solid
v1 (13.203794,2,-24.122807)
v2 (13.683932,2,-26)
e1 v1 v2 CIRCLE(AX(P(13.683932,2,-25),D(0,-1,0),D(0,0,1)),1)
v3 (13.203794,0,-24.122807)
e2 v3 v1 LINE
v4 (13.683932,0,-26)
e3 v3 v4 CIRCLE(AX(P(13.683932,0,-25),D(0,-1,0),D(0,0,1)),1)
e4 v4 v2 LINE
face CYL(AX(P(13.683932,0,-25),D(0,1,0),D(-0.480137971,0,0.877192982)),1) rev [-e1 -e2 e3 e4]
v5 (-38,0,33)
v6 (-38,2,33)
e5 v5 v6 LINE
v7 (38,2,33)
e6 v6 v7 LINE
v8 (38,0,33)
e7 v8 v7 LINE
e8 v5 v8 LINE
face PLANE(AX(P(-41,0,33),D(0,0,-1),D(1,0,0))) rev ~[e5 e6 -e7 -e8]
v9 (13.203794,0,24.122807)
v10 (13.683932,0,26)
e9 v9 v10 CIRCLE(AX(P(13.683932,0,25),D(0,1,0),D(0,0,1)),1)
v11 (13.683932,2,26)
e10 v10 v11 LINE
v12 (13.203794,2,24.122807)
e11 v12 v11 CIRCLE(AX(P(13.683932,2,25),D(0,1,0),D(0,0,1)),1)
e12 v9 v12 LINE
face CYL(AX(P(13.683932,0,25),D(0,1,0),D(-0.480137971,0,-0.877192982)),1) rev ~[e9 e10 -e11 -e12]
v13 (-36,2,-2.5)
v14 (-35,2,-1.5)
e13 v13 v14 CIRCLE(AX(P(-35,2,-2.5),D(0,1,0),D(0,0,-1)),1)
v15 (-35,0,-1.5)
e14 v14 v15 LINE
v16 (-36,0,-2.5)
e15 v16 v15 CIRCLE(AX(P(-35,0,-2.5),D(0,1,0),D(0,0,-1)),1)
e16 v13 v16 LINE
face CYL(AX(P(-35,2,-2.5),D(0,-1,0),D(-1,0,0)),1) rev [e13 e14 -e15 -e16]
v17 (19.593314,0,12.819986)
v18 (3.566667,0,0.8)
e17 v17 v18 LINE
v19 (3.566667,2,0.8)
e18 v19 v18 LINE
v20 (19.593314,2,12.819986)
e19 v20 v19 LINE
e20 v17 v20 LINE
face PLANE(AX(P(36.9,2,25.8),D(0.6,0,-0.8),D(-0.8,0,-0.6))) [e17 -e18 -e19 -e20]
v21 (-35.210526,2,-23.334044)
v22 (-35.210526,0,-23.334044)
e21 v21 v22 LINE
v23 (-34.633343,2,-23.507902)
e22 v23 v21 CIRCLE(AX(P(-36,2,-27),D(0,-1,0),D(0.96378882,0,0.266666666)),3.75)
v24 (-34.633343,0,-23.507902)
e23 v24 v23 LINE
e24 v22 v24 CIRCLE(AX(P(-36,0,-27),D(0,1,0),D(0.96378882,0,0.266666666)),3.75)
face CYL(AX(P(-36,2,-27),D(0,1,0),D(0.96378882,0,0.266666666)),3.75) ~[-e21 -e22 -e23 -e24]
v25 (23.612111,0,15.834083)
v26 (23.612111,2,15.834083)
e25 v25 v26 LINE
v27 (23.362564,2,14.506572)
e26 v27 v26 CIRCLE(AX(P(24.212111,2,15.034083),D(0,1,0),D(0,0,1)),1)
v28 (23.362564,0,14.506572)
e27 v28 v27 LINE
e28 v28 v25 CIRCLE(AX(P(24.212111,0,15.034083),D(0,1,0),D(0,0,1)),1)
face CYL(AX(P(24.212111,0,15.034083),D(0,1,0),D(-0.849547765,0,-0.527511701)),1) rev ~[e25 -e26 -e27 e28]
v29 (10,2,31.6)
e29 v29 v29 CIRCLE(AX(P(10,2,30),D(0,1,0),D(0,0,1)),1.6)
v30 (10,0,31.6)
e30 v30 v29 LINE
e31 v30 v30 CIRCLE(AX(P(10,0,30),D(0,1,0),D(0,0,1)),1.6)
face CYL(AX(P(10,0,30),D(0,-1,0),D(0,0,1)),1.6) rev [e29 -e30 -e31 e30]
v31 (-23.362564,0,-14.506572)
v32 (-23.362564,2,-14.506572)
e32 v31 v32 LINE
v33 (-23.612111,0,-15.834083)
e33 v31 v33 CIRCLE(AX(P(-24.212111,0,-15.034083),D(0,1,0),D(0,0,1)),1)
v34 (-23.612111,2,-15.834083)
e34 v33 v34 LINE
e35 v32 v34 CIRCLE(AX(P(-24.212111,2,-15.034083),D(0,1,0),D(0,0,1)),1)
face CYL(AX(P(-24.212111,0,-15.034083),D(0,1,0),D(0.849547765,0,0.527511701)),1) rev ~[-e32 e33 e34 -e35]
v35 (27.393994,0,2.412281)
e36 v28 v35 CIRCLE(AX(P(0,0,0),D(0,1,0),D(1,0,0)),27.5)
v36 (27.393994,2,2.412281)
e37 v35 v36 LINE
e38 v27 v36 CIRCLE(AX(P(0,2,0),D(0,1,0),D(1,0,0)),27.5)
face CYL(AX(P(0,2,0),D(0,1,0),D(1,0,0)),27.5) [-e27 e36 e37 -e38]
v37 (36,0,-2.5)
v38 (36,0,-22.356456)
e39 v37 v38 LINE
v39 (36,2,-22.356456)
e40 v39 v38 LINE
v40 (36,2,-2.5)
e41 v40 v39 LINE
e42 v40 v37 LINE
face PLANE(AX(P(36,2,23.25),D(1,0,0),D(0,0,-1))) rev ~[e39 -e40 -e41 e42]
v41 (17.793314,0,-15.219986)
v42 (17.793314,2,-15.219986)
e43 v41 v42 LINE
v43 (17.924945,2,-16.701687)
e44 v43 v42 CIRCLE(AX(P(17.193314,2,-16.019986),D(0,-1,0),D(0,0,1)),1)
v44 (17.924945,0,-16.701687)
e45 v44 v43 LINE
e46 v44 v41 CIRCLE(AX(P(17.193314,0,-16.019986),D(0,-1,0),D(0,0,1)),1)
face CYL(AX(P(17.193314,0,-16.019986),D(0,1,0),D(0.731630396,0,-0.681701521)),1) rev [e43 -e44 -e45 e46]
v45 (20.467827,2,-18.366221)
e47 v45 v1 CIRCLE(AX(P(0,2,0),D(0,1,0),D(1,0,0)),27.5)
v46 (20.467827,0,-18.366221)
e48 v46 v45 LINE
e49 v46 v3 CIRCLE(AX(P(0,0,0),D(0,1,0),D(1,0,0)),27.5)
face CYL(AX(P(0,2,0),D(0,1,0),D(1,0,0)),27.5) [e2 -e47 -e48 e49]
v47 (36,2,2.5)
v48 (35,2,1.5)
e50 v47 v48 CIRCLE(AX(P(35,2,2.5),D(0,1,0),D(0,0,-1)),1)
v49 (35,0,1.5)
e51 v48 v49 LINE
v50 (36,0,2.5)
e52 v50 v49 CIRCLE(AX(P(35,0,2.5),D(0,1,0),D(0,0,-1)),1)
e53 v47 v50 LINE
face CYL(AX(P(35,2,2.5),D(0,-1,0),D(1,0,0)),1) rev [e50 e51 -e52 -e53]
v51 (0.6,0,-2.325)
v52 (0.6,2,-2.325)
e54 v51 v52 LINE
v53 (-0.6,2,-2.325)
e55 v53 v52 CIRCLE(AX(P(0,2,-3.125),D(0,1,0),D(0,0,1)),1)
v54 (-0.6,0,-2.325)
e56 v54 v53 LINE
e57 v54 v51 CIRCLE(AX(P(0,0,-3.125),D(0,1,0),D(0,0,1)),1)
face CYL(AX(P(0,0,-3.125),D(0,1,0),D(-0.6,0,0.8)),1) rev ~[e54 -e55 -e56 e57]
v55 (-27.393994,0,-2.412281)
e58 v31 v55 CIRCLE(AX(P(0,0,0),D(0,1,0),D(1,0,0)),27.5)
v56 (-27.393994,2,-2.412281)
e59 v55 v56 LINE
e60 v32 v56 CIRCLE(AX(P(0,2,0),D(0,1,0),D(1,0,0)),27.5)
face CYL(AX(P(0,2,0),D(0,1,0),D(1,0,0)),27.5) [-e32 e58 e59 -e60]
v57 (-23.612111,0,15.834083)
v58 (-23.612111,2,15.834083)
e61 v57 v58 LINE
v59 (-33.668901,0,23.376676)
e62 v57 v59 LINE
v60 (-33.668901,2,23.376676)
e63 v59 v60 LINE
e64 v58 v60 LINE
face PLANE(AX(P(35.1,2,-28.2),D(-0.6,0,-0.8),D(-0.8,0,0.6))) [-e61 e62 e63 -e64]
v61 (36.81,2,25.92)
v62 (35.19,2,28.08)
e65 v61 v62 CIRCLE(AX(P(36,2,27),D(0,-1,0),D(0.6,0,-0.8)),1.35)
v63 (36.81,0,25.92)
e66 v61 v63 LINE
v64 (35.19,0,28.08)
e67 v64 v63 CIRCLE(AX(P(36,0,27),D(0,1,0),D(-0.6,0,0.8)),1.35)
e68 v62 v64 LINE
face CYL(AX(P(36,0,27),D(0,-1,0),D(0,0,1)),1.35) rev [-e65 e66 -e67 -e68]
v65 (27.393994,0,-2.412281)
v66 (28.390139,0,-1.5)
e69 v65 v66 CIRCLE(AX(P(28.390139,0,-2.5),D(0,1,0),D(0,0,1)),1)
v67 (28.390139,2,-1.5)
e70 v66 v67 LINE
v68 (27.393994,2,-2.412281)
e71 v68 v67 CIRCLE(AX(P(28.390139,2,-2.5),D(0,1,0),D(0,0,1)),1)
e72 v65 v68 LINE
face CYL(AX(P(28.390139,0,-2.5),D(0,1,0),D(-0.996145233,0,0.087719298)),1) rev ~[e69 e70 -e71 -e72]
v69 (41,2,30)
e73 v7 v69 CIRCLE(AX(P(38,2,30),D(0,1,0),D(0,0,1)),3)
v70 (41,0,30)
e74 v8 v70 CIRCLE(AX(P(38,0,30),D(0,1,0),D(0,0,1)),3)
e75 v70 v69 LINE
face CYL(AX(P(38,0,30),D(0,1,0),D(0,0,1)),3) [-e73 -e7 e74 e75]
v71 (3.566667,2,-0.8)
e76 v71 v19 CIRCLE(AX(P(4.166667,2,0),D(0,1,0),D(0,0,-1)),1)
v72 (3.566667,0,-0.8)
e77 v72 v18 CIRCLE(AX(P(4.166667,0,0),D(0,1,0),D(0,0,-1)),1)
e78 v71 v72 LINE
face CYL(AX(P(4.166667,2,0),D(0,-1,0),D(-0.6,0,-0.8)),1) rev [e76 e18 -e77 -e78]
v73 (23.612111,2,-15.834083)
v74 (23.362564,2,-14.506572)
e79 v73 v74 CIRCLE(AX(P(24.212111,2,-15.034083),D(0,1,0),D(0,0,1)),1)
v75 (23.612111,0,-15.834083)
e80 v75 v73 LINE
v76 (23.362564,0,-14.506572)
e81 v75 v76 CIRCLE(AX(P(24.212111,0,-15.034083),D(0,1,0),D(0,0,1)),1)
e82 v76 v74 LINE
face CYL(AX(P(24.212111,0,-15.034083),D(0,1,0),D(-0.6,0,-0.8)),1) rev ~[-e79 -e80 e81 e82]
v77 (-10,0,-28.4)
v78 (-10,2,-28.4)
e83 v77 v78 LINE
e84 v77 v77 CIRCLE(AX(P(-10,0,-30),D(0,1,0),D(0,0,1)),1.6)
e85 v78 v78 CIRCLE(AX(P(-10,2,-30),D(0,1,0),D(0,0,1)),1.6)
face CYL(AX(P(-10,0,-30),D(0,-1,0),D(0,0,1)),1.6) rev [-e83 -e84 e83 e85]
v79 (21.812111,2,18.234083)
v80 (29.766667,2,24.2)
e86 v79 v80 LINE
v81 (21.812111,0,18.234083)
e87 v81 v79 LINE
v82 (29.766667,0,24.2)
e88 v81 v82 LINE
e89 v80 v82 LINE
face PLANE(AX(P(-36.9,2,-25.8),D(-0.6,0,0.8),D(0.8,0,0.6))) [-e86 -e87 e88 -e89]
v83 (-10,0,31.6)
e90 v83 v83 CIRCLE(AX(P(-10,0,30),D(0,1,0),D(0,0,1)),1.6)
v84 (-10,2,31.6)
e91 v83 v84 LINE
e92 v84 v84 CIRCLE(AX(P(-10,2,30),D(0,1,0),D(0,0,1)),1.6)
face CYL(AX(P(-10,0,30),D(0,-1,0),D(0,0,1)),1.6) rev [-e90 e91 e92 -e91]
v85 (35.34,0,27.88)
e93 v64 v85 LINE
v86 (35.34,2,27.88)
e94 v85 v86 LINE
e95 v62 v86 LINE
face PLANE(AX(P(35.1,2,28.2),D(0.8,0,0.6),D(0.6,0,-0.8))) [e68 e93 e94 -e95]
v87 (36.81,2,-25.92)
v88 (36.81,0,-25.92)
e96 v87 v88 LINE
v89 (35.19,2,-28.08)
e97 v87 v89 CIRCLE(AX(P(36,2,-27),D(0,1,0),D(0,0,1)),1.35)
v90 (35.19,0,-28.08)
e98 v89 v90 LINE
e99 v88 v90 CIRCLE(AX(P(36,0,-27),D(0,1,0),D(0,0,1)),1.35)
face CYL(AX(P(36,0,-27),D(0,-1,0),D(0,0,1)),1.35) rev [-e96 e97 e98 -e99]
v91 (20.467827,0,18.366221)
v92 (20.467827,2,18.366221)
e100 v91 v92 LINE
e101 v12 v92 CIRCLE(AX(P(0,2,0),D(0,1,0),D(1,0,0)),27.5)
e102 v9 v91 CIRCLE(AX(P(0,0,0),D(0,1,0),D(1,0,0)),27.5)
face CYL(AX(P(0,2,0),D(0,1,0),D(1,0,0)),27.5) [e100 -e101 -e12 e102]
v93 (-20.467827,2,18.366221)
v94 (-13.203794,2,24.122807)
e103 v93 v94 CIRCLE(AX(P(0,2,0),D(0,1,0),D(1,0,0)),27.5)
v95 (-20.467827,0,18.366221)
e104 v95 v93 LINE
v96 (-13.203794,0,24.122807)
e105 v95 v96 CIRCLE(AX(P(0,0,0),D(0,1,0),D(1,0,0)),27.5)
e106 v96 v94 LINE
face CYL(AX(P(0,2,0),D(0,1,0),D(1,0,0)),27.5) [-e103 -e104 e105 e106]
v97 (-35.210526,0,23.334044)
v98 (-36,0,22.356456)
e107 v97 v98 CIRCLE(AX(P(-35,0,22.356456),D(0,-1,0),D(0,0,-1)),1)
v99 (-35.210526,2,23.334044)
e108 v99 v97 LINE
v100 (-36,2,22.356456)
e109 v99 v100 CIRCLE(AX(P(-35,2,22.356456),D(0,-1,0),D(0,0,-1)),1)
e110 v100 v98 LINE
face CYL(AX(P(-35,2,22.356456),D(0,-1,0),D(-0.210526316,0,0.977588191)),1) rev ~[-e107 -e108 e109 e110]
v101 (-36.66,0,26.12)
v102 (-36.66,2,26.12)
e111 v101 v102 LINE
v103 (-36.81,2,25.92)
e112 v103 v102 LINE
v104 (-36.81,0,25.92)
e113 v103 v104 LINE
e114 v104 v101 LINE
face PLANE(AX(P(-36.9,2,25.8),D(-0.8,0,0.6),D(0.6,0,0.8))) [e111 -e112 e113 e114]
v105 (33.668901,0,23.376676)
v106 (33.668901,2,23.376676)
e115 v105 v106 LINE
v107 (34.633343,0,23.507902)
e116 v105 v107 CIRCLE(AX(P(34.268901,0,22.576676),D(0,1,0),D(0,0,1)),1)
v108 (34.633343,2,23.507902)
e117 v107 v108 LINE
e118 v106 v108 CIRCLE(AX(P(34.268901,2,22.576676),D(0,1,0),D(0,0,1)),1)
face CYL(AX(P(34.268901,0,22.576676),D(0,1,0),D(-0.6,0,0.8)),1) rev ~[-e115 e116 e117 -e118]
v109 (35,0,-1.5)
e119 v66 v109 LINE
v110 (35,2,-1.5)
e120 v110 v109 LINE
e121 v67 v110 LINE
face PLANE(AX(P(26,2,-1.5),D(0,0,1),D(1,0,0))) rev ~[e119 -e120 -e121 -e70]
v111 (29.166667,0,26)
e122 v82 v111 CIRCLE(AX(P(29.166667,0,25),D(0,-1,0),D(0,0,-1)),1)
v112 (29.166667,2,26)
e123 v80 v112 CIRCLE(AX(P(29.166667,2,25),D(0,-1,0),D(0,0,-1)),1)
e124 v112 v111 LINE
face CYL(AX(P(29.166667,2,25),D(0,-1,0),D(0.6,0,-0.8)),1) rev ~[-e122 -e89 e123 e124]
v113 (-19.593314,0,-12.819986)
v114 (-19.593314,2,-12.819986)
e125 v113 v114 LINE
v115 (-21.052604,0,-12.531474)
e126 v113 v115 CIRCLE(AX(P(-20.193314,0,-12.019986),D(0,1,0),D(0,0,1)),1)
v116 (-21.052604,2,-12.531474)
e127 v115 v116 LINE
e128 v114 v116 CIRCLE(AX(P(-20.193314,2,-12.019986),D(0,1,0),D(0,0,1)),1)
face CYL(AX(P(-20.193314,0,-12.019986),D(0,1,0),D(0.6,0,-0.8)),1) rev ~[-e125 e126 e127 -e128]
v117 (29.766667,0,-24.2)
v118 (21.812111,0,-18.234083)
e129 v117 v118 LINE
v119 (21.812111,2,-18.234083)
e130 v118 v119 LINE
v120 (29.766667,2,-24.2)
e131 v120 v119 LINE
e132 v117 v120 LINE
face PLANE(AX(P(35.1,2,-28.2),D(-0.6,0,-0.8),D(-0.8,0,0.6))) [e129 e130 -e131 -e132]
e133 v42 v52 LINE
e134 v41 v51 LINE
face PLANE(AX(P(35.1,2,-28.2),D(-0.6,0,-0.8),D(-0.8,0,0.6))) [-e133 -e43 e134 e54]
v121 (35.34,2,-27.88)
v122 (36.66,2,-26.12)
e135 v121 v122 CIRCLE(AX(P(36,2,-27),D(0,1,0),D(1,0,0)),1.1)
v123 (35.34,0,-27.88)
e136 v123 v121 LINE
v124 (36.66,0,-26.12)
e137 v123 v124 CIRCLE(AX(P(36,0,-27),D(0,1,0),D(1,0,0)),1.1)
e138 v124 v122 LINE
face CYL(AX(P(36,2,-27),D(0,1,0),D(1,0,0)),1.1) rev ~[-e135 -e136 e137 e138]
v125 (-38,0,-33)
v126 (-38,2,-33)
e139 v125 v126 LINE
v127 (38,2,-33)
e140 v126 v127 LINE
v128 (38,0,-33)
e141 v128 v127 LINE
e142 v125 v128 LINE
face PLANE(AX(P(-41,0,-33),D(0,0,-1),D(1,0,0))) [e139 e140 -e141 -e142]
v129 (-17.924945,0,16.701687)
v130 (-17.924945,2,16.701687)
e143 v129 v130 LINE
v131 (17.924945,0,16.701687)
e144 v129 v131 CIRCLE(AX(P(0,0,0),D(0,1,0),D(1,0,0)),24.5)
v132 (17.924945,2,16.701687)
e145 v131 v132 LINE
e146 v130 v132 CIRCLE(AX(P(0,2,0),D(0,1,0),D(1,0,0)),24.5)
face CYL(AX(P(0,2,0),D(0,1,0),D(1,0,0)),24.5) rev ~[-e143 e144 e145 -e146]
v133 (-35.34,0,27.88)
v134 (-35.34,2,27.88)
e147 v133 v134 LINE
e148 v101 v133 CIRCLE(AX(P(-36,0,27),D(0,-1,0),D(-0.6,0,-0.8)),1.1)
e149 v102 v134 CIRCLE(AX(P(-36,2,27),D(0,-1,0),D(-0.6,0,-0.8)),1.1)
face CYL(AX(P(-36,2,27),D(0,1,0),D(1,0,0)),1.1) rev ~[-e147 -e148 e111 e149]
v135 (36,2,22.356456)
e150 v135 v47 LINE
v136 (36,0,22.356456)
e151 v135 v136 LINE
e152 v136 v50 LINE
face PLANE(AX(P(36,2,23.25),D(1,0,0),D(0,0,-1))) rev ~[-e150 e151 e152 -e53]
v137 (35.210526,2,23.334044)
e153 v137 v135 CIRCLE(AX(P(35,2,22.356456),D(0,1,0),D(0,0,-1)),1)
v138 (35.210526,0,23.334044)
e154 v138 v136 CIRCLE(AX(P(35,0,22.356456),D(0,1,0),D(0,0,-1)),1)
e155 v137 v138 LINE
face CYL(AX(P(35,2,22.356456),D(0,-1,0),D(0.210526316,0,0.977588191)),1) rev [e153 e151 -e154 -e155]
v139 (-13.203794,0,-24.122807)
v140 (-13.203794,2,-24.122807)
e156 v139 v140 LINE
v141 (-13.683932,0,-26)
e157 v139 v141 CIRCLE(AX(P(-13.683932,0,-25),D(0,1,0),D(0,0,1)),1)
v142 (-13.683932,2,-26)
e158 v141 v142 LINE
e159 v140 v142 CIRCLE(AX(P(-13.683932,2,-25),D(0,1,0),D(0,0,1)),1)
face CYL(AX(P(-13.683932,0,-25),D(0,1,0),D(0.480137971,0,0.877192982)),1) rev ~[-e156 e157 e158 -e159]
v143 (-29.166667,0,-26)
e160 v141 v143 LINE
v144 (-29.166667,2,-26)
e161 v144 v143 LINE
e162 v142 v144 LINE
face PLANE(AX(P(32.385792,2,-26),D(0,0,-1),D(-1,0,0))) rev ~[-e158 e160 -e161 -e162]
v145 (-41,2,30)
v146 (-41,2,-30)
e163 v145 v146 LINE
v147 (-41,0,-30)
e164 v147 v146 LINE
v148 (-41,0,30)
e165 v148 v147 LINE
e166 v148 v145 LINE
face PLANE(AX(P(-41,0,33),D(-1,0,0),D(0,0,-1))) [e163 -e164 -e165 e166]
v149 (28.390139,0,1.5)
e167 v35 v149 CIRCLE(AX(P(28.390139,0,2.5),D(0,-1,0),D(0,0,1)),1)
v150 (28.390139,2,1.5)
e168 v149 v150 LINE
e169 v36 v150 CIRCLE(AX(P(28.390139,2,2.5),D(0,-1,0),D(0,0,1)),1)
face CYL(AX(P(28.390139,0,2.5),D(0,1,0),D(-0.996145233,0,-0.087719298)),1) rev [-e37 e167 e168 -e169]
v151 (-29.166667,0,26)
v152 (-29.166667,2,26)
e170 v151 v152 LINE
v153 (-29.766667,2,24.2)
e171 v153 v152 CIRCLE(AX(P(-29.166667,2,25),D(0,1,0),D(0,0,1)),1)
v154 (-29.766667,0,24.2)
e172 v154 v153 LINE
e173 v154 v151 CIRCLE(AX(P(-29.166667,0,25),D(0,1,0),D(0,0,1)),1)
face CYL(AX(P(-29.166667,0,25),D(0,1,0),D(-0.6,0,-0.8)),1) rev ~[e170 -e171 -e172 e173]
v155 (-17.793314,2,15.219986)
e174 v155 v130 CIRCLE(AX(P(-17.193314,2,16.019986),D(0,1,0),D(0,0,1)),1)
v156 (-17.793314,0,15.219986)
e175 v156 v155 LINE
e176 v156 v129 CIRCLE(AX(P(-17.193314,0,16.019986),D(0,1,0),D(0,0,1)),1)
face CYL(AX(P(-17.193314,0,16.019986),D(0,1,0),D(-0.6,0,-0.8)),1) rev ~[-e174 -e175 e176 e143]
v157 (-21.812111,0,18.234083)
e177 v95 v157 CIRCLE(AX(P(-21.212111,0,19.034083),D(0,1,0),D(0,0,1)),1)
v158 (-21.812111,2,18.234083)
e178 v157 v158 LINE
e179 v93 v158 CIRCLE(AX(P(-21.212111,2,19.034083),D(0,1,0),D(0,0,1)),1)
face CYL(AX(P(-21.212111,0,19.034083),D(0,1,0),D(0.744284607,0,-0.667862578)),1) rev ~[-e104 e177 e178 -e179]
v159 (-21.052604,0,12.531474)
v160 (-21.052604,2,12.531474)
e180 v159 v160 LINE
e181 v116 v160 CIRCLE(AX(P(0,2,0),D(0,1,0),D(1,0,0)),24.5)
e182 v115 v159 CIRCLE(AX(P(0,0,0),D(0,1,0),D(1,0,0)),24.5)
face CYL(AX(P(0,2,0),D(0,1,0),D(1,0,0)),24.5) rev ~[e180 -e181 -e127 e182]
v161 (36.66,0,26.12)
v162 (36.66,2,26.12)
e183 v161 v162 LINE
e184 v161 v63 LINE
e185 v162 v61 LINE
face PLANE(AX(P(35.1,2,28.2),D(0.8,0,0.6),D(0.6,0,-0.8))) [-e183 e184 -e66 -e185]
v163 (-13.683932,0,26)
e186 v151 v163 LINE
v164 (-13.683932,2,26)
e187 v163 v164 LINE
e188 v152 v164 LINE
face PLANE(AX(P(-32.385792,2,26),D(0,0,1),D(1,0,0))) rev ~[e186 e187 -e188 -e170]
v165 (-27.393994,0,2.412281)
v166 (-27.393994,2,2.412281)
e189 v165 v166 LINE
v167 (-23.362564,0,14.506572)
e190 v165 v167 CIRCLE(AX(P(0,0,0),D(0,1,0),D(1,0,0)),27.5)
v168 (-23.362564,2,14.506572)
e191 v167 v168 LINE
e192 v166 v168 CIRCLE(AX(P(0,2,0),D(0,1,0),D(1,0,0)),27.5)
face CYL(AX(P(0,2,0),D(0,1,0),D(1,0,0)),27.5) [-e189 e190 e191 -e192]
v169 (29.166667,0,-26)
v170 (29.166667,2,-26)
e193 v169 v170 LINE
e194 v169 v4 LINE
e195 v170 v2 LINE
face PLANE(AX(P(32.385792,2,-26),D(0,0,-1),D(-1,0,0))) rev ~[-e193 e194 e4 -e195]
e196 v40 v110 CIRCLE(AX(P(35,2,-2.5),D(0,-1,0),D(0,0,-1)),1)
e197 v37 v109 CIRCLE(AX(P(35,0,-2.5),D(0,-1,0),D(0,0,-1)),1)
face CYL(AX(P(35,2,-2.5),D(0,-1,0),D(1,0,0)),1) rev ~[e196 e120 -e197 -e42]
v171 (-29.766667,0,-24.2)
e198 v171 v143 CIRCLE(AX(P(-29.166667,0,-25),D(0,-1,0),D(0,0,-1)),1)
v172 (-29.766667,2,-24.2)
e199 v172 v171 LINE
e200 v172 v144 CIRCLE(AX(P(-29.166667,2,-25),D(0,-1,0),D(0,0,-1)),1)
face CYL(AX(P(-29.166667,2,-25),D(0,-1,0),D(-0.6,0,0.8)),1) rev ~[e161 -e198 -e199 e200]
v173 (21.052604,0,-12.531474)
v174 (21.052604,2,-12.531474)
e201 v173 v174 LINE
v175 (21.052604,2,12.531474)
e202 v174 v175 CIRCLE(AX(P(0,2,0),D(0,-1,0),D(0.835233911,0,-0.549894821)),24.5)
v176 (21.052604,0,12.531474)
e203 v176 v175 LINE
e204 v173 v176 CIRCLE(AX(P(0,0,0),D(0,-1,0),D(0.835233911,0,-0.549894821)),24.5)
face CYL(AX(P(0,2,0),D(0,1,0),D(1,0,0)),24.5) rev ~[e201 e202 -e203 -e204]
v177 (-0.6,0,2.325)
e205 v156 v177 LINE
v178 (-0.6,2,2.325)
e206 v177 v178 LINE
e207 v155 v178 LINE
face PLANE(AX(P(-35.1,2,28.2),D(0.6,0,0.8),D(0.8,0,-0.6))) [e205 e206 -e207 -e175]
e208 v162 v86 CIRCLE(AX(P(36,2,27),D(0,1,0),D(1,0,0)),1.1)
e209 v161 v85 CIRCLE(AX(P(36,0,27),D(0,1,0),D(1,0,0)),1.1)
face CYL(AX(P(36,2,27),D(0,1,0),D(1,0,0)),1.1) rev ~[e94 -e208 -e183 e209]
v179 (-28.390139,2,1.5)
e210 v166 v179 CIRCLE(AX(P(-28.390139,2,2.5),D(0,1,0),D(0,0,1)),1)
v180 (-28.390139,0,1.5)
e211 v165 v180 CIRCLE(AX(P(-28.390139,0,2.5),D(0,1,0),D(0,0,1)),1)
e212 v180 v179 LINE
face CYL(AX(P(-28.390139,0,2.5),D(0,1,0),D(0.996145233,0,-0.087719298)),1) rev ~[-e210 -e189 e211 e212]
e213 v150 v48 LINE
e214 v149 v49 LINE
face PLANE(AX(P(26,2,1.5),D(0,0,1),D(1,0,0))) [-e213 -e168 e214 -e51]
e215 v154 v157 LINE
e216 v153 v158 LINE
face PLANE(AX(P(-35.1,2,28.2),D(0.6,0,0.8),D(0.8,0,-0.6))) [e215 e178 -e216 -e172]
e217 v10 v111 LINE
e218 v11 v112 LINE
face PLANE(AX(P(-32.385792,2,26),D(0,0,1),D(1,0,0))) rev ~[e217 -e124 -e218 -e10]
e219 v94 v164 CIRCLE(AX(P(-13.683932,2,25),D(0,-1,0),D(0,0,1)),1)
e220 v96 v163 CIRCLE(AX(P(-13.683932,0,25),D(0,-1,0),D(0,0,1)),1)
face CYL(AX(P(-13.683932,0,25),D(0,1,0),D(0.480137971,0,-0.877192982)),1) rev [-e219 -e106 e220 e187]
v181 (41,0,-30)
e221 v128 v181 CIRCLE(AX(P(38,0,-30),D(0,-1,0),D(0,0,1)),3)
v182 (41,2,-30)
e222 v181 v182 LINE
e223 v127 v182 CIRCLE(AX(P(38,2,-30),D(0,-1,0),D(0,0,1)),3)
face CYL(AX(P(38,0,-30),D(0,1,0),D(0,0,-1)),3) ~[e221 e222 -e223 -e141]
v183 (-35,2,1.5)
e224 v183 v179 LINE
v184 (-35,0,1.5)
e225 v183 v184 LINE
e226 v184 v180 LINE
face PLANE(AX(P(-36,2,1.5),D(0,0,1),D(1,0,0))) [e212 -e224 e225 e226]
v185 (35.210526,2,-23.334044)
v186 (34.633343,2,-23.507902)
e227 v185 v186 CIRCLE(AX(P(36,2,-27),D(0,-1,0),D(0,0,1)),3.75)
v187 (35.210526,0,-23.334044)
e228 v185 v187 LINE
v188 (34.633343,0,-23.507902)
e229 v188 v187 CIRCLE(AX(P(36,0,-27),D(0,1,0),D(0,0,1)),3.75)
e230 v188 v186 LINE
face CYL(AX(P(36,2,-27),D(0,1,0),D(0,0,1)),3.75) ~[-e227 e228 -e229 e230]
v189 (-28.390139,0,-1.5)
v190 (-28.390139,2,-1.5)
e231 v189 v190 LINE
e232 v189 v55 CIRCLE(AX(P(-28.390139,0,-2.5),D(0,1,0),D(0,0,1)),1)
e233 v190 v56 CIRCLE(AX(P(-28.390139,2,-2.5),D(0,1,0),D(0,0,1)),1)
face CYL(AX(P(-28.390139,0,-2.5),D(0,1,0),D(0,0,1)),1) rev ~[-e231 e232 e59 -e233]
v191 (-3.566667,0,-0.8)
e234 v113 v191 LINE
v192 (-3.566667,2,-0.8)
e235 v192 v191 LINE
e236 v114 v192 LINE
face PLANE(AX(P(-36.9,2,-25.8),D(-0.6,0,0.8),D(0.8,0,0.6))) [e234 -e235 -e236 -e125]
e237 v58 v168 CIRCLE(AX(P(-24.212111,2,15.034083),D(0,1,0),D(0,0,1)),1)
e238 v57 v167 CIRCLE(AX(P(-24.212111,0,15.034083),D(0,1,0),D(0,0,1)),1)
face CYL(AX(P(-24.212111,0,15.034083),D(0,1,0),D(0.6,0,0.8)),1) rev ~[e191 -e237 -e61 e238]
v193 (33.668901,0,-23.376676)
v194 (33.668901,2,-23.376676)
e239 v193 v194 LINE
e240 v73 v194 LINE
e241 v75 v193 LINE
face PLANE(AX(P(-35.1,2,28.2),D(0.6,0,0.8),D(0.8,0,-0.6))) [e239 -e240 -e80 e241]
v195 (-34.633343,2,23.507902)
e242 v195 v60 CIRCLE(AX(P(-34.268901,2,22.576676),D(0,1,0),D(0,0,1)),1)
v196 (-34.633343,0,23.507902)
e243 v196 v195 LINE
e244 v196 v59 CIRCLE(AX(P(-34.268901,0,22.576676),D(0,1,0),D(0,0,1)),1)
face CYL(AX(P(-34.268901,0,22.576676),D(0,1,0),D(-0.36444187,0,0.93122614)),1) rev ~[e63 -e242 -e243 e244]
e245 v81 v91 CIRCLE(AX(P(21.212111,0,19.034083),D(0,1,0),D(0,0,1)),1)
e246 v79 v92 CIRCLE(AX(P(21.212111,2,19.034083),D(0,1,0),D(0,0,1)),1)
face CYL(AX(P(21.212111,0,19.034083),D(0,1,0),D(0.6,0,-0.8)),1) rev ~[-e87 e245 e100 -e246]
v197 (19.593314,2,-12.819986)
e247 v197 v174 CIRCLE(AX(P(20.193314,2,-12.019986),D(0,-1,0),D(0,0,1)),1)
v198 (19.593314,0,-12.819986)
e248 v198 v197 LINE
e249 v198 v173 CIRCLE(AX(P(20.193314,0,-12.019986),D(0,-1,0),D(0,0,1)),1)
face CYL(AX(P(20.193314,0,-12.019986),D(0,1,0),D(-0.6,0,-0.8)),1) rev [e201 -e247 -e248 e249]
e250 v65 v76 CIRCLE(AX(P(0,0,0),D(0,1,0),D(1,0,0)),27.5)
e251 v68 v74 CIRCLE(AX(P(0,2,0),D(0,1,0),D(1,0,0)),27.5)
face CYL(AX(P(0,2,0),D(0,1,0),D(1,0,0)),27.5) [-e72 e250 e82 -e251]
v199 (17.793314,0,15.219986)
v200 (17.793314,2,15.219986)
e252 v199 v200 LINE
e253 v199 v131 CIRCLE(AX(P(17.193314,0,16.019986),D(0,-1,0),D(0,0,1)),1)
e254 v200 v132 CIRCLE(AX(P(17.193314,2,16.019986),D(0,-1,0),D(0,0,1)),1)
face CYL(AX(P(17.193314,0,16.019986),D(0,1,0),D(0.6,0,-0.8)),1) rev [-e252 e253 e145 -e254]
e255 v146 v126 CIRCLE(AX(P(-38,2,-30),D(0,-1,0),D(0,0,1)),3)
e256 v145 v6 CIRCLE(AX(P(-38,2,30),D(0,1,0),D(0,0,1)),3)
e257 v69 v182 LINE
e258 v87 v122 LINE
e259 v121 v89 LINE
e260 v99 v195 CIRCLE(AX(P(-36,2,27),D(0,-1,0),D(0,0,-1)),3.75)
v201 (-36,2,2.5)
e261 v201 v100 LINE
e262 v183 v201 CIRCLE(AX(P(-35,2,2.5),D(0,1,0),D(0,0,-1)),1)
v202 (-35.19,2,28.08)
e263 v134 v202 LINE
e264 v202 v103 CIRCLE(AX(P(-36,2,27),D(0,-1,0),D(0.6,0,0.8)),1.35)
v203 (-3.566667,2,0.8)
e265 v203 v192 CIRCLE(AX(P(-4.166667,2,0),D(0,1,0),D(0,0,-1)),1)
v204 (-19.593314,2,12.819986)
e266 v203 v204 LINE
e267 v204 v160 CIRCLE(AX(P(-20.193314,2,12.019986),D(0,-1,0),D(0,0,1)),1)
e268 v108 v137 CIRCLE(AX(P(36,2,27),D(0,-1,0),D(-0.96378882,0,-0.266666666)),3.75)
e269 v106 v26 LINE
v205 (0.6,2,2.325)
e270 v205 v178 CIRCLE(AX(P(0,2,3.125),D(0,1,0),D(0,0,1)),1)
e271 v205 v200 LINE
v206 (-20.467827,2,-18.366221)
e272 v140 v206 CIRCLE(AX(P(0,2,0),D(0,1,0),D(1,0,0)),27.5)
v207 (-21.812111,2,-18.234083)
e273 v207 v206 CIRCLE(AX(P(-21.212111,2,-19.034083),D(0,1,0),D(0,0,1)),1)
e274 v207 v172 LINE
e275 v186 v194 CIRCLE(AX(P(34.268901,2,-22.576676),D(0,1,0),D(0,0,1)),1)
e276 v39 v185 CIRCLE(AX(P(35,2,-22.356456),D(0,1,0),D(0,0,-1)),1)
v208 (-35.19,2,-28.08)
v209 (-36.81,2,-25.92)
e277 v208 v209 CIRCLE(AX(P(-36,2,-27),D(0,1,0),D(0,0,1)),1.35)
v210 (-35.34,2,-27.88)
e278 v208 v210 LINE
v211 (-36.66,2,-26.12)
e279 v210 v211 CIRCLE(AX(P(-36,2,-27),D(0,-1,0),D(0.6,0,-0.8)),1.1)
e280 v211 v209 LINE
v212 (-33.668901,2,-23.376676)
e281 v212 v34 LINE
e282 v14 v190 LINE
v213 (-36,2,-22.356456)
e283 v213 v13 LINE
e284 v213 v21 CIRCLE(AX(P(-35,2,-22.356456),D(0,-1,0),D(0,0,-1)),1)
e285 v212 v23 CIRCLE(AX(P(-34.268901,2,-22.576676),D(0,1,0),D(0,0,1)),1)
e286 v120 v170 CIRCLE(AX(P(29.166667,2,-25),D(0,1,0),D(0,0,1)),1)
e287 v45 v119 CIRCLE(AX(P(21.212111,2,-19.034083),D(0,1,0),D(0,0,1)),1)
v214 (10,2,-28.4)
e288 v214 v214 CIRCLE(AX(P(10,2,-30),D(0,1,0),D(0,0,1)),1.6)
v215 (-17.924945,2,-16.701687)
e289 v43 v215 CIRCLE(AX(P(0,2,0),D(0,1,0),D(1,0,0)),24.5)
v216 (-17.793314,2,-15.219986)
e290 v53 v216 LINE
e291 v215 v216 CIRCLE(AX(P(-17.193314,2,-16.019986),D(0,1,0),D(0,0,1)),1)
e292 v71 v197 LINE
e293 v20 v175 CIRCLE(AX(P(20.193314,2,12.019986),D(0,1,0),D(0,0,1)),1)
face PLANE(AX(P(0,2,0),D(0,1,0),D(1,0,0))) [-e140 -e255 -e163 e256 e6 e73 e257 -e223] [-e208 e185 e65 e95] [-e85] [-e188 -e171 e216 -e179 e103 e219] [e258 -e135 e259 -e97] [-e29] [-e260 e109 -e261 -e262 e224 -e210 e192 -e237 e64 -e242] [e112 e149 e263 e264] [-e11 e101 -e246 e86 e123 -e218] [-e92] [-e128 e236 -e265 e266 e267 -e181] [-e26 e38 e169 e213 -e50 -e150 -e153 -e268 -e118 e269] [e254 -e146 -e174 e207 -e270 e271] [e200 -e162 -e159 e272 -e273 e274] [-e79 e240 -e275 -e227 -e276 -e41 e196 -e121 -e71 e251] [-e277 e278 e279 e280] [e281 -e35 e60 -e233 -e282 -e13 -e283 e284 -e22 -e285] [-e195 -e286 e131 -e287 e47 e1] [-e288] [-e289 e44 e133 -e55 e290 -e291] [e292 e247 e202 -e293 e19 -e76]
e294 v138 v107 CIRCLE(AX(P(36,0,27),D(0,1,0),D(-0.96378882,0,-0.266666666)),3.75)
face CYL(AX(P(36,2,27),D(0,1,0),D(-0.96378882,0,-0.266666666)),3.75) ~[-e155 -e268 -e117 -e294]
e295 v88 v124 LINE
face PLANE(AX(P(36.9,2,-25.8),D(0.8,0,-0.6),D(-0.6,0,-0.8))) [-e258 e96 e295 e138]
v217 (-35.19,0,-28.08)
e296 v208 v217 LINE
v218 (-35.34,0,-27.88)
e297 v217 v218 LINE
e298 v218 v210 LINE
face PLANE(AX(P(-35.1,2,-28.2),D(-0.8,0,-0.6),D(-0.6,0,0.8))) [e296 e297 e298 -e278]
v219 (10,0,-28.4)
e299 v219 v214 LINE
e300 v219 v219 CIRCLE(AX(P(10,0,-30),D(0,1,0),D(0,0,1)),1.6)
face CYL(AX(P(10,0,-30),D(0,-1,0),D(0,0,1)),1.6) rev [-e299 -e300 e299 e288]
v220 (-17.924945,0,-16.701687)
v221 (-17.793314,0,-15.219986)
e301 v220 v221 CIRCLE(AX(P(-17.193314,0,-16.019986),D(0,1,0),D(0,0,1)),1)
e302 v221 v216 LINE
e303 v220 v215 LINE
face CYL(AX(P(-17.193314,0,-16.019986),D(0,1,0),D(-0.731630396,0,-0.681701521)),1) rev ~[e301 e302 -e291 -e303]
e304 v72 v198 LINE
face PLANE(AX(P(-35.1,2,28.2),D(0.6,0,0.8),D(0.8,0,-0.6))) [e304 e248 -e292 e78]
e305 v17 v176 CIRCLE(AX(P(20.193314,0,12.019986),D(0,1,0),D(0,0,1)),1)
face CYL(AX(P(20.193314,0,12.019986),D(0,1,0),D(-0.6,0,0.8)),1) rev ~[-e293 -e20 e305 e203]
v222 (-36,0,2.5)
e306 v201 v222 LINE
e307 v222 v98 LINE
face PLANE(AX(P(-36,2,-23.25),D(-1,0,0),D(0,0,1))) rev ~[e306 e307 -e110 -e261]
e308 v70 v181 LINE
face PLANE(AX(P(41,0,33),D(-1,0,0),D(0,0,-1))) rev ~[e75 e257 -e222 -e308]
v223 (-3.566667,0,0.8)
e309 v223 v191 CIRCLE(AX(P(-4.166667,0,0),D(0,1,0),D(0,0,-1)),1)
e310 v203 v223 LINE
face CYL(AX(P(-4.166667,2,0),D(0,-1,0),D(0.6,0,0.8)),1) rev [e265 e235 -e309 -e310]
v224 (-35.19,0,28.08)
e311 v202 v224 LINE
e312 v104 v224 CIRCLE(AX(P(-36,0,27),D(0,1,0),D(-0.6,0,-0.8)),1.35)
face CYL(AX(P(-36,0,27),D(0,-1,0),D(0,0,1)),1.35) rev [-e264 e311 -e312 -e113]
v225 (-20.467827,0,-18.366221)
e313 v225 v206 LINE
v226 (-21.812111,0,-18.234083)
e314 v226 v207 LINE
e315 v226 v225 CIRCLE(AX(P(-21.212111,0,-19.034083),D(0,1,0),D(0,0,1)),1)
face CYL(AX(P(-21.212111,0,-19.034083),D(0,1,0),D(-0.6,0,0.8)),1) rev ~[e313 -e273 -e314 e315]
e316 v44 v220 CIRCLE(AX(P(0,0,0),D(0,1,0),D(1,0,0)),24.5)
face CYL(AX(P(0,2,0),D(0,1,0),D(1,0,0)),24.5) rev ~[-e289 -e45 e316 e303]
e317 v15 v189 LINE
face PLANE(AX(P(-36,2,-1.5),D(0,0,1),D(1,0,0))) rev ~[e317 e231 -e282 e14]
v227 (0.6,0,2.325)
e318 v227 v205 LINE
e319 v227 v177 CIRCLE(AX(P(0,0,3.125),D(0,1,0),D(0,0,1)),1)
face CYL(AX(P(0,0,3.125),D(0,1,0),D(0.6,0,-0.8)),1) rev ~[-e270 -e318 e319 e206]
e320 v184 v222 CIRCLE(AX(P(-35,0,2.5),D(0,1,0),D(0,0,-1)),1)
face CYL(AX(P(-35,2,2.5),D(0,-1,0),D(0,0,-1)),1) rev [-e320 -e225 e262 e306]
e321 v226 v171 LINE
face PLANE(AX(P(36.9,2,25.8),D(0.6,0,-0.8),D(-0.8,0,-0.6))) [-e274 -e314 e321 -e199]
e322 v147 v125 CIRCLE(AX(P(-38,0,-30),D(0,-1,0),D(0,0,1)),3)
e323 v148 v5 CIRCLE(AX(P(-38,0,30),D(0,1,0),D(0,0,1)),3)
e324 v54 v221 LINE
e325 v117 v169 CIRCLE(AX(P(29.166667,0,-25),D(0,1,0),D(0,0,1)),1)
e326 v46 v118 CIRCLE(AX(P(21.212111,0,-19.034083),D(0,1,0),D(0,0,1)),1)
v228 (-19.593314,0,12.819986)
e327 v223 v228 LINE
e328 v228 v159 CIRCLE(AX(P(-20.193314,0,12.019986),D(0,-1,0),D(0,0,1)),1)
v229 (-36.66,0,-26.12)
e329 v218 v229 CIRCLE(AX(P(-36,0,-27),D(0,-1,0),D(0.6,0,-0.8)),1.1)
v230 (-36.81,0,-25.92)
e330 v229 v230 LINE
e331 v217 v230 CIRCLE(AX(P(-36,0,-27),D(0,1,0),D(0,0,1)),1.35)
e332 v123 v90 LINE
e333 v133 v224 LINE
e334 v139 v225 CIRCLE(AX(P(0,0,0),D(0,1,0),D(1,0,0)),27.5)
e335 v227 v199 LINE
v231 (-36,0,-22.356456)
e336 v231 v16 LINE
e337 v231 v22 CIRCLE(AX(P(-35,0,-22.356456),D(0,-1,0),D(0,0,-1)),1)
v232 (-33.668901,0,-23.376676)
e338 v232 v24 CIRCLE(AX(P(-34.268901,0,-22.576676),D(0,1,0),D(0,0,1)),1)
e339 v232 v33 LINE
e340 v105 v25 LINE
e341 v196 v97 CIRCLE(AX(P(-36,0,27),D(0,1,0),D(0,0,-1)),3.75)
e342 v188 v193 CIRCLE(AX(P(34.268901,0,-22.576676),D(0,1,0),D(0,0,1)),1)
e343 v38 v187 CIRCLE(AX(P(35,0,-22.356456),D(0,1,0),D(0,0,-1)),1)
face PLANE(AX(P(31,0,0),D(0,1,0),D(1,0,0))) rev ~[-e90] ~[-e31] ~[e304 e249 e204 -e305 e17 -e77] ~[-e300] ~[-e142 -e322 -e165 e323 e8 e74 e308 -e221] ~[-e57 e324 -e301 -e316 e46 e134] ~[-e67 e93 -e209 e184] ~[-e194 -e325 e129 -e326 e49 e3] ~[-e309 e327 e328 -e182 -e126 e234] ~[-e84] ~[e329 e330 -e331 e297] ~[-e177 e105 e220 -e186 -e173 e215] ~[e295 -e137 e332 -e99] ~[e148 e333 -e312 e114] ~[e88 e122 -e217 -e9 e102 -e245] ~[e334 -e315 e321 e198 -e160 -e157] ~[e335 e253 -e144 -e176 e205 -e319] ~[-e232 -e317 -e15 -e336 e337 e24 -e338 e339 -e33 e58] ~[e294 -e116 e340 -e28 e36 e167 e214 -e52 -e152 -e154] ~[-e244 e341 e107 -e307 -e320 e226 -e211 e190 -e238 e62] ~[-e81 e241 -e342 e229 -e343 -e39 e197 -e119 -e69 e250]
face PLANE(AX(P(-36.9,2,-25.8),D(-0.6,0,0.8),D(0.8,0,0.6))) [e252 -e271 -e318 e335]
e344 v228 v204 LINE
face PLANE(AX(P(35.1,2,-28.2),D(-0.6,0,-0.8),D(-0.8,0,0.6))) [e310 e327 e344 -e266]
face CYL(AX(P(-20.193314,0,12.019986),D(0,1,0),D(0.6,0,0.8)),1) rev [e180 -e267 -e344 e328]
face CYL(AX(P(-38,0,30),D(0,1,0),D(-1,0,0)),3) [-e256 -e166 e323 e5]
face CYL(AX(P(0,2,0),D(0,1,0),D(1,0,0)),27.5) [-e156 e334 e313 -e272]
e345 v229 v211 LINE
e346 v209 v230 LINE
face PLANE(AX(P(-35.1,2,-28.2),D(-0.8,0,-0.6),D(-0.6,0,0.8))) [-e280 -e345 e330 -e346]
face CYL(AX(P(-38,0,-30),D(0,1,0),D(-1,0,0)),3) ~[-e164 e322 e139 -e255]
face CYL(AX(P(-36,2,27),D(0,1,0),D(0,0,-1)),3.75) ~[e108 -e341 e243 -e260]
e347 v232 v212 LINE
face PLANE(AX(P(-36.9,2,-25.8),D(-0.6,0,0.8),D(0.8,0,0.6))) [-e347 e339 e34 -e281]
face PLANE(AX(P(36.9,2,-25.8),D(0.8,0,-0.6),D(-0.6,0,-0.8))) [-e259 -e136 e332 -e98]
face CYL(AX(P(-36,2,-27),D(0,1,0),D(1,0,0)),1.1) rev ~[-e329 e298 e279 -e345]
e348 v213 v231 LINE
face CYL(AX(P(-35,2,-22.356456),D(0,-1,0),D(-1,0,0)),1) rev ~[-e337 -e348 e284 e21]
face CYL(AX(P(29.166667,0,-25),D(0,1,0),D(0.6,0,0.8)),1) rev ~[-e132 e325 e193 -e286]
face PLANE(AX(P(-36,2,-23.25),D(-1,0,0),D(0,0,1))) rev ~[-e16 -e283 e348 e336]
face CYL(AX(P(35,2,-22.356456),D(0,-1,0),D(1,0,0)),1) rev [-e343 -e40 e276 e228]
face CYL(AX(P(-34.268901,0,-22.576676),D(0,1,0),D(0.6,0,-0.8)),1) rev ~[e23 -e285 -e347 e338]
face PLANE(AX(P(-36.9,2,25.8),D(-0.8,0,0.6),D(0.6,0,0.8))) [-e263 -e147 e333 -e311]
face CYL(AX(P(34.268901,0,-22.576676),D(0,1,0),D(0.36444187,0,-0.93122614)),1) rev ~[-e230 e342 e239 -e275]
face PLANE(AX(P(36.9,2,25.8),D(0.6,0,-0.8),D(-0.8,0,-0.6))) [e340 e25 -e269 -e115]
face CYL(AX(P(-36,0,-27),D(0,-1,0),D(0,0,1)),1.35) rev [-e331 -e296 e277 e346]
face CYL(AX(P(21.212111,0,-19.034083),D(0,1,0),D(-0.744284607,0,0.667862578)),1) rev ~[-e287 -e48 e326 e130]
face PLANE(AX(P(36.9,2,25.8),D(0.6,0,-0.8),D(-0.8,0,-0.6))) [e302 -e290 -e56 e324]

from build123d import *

# Parameters (mm, degrees)
SKETCH_1_W          = 82
SKETCH_1_H          = 66
SKETCH_1_R          = 1.6
SKETCH_1_R_2        = 1.35
EXTRUDE_1_DEPTH     = 2
FILLET_1_R          = 3
CUT_EXTRUDE_1_DEPTH = 10
SKETCH_3_R          = 27.5
SKETCH_3_R_2        = 24.5
SKETCH_3_W          = 10
SKETCH_3_H          = 3
EXTRUDE_1_2_DEPTH   = 2
SKETCH_4_R          = 1.1
CUT_EXTRUDE_2_DEPTH = 2
FILLET_2_R          = 1


with BuildPart() as part:
    # 草图1 → Extrude 1 (new body)
    with BuildSketch(Plane(origin=(0, 0, 0), x_dir=(1, 0, 0), z_dir=(0, 1, 0))):
        Rectangle(SKETCH_1_W, SKETCH_1_H)
        with Locations(Location((10, -30, 0), (0, 0, 270))):
            Circle(SKETCH_1_R, mode=Mode.SUBTRACT)
        with Locations(Location((-10, -30, 0), (0, 0, 270))):
            Circle(SKETCH_1_R, mode=Mode.SUBTRACT)
        with Locations(Location((-10, 30, 0), (0, 0, 270))):
            Circle(SKETCH_1_R, mode=Mode.SUBTRACT)
        with Locations(Location((10, 30, 0), (0, 0, 270))):
            Circle(SKETCH_1_R, mode=Mode.SUBTRACT)
        with Locations(Location((36, -27, 0), (0, 0, 270))):
            Circle(SKETCH_1_R_2, mode=Mode.SUBTRACT)
        with Locations(Location((36, 27, 0), (0, 0, 270))):
            Circle(SKETCH_1_R_2, mode=Mode.SUBTRACT)
        with Locations(Location((-36, 27, 0), (0, 0, 270))):
            Circle(SKETCH_1_R_2, mode=Mode.SUBTRACT)
        with Locations(Location((-36, -27, 0), (0, 0, 270))):
            Circle(SKETCH_1_R_2, mode=Mode.SUBTRACT)
    extrude(amount=EXTRUDE_1_DEPTH)

    # 圆角1
    fillet_1_edges = [part.edges().sort_by_distance(p)[0] for p in [
        (41, 1, 33),
        (-41, 1, 33),
        (-41, 1, -33),
        (41, 1, -33),
    ]]
    fillet(fillet_1_edges, radius=FILLET_1_R)

    # 草图2 → 切除-拉伸1 (cut)
    with BuildSketch(Plane(origin=(0, 2, 0), x_dir=(1, 0, 0), z_dir=(0, 1, 0))):
        with BuildLine():
            Line((32.385791926, 26), (-32.385791926, 26))
            ThreePointArc((-32.385791926, 26), (-33.729262234, 24.015665903), (-36, 23.25))
            Line((-36, 23.25), (-36, -23.25))
            ThreePointArc((-36, -23.25), (-33.729262234, -24.015665903), (-32.385791926, -26))
            Line((-32.385791926, -26), (32.385791926, -26))
            ThreePointArc((32.385791926, -26), (33.729262234, -24.015665903), (36, -23.25))
            Line((36, -23.25), (36, 23.25))
            ThreePointArc((36, 23.25), (33.729262234, 24.015665903), (32.385791926, 26))
        make_face()
    extrude(amount=-CUT_EXTRUDE_1_DEPTH, mode=Mode.SUBTRACT)

    # 草图3 → Extrude 1 2 (add)
    # profile 1 of 5: a face of its own
    with BuildSketch(Plane(origin=(0, 2, 0), x_dir=(1, 0, 0), z_dir=(0, 1, 0))):
        Circle(SKETCH_3_R)
        Circle(SKETCH_3_R_2, mode=Mode.SUBTRACT)
    # profile 2 of 5: a face of its own
    with BuildSketch(Plane(origin=(0, 2, 0), x_dir=(1, 0, 0), z_dir=(0, 1, 0))):
        Polygon((36.9, -25.8), (-35.1, 28.2), (-36.9, 25.8), (35.1, -28.2), align=None)
    # profile 3 of 5: a face of its own
    with BuildSketch(Plane(origin=(0, 2, 0), x_dir=(1, 0, 0), z_dir=(0, 1, 0))):
        Polygon((-35.1, -28.2), (36.9, 25.8), (35.1, 28.2), (-36.9, -25.8), align=None)
    # profile 4 of 5: a face of its own
    with BuildSketch(Plane(origin=(0, 2, 0), x_dir=(1, 0, 0), z_dir=(0, 1, 0))):
        with Locations((-31, 0)):
            Rectangle(SKETCH_3_W, SKETCH_3_H)
    # profile 5 of 5: a face of its own
    with BuildSketch(Plane(origin=(0, 2, 0), x_dir=(1, 0, 0), z_dir=(0, 1, 0))):
        with Locations((31, 0)):
            Rectangle(SKETCH_3_W, SKETCH_3_H)
    extrude(amount=-EXTRUDE_1_2_DEPTH)

    # 草图4 → 切除-拉伸2 (cut)
    with BuildSketch(Plane(origin=(0, 2, 0), x_dir=(1, 0, 0), z_dir=(0, 1, 0))):
        with Locations((36, 27)):
            Circle(SKETCH_4_R)
        with Locations((-36, 27)):
            Circle(SKETCH_4_R)
        with Locations((-36, -27)):
            Circle(SKETCH_4_R)
        with Locations((36, -27)):
            Circle(SKETCH_4_R)
    extrude(amount=-CUT_EXTRUDE_2_DEPTH, mode=Mode.SUBTRACT)

    # 圆角2
    fillet_2_edges = [part.edges().sort_by_distance(p)[0] for p in [
        (-34.150454583, 1, 23.737840937),
        (-8.958236434, 1, 26),
        (8.958236434, 1, 26),
        (-32.166666667, 1, 26),
        (32.166666667, 1, 26),
        (34.150454583, 1, 23.737840937),
        (34.150454583, 1, -23.737840937),
        (-8.958236434, 1, -26),
        (8.958236434, 1, -26),
        (32.166666667, 1, -26),
        (-32.166666667, 1, -26),
        (-34.150454583, 1, -23.737840937),
        (21.067248348, 1, 17.675436261),
        (-21.067248348, 1, 17.675436261),
        (0, 1, -1.875),
        (-18.663230817, 1, -15.872423113),
        (20.463230817, 1, 13.472423113),
        (0, 1, 1.875),
        (-22.867248348, 1, -15.275436261),
        (-22.867248348, 1, 15.275436261),
        (-27.459060435, 1, 1.5),
        (-36, 1, 1.5),
        (-27.459060435, 1, -1.5),
        (-36, 1, -1.5),
        (-20.463230817, 1, -13.472423113),
        (-20.463230817, 1, 13.472423113),
        (18.663230817, 1, 15.872423113),
        (-2.5, 1, 0),
        (-18.663230817, 1, 15.872423113),
        (2.5, 1, 0),
        (20.463230817, 1, -13.472423113),
        (21.067248348, 1, -17.675436261),
        (-21.067248348, 1, -17.675436261),
        (18.663230817, 1, -15.872423113),
        (22.867248348, 1, -15.275436261),
        (36, 1, 1.5),
        (27.459060435, 1, -1.5),
        (36, 1, -1.5),
        (22.867248348, 1, 15.275436261),
        (27.459060435, 1, 1.5),
        (-36, 1, -23.25),
        (36, 1, -23.25),
        (36, 1, 23.25),
        (-36, 1, 23.25),
    ]]
    fillet(fillet_2_edges, radius=FILLET_2_R)


solid = part.part
